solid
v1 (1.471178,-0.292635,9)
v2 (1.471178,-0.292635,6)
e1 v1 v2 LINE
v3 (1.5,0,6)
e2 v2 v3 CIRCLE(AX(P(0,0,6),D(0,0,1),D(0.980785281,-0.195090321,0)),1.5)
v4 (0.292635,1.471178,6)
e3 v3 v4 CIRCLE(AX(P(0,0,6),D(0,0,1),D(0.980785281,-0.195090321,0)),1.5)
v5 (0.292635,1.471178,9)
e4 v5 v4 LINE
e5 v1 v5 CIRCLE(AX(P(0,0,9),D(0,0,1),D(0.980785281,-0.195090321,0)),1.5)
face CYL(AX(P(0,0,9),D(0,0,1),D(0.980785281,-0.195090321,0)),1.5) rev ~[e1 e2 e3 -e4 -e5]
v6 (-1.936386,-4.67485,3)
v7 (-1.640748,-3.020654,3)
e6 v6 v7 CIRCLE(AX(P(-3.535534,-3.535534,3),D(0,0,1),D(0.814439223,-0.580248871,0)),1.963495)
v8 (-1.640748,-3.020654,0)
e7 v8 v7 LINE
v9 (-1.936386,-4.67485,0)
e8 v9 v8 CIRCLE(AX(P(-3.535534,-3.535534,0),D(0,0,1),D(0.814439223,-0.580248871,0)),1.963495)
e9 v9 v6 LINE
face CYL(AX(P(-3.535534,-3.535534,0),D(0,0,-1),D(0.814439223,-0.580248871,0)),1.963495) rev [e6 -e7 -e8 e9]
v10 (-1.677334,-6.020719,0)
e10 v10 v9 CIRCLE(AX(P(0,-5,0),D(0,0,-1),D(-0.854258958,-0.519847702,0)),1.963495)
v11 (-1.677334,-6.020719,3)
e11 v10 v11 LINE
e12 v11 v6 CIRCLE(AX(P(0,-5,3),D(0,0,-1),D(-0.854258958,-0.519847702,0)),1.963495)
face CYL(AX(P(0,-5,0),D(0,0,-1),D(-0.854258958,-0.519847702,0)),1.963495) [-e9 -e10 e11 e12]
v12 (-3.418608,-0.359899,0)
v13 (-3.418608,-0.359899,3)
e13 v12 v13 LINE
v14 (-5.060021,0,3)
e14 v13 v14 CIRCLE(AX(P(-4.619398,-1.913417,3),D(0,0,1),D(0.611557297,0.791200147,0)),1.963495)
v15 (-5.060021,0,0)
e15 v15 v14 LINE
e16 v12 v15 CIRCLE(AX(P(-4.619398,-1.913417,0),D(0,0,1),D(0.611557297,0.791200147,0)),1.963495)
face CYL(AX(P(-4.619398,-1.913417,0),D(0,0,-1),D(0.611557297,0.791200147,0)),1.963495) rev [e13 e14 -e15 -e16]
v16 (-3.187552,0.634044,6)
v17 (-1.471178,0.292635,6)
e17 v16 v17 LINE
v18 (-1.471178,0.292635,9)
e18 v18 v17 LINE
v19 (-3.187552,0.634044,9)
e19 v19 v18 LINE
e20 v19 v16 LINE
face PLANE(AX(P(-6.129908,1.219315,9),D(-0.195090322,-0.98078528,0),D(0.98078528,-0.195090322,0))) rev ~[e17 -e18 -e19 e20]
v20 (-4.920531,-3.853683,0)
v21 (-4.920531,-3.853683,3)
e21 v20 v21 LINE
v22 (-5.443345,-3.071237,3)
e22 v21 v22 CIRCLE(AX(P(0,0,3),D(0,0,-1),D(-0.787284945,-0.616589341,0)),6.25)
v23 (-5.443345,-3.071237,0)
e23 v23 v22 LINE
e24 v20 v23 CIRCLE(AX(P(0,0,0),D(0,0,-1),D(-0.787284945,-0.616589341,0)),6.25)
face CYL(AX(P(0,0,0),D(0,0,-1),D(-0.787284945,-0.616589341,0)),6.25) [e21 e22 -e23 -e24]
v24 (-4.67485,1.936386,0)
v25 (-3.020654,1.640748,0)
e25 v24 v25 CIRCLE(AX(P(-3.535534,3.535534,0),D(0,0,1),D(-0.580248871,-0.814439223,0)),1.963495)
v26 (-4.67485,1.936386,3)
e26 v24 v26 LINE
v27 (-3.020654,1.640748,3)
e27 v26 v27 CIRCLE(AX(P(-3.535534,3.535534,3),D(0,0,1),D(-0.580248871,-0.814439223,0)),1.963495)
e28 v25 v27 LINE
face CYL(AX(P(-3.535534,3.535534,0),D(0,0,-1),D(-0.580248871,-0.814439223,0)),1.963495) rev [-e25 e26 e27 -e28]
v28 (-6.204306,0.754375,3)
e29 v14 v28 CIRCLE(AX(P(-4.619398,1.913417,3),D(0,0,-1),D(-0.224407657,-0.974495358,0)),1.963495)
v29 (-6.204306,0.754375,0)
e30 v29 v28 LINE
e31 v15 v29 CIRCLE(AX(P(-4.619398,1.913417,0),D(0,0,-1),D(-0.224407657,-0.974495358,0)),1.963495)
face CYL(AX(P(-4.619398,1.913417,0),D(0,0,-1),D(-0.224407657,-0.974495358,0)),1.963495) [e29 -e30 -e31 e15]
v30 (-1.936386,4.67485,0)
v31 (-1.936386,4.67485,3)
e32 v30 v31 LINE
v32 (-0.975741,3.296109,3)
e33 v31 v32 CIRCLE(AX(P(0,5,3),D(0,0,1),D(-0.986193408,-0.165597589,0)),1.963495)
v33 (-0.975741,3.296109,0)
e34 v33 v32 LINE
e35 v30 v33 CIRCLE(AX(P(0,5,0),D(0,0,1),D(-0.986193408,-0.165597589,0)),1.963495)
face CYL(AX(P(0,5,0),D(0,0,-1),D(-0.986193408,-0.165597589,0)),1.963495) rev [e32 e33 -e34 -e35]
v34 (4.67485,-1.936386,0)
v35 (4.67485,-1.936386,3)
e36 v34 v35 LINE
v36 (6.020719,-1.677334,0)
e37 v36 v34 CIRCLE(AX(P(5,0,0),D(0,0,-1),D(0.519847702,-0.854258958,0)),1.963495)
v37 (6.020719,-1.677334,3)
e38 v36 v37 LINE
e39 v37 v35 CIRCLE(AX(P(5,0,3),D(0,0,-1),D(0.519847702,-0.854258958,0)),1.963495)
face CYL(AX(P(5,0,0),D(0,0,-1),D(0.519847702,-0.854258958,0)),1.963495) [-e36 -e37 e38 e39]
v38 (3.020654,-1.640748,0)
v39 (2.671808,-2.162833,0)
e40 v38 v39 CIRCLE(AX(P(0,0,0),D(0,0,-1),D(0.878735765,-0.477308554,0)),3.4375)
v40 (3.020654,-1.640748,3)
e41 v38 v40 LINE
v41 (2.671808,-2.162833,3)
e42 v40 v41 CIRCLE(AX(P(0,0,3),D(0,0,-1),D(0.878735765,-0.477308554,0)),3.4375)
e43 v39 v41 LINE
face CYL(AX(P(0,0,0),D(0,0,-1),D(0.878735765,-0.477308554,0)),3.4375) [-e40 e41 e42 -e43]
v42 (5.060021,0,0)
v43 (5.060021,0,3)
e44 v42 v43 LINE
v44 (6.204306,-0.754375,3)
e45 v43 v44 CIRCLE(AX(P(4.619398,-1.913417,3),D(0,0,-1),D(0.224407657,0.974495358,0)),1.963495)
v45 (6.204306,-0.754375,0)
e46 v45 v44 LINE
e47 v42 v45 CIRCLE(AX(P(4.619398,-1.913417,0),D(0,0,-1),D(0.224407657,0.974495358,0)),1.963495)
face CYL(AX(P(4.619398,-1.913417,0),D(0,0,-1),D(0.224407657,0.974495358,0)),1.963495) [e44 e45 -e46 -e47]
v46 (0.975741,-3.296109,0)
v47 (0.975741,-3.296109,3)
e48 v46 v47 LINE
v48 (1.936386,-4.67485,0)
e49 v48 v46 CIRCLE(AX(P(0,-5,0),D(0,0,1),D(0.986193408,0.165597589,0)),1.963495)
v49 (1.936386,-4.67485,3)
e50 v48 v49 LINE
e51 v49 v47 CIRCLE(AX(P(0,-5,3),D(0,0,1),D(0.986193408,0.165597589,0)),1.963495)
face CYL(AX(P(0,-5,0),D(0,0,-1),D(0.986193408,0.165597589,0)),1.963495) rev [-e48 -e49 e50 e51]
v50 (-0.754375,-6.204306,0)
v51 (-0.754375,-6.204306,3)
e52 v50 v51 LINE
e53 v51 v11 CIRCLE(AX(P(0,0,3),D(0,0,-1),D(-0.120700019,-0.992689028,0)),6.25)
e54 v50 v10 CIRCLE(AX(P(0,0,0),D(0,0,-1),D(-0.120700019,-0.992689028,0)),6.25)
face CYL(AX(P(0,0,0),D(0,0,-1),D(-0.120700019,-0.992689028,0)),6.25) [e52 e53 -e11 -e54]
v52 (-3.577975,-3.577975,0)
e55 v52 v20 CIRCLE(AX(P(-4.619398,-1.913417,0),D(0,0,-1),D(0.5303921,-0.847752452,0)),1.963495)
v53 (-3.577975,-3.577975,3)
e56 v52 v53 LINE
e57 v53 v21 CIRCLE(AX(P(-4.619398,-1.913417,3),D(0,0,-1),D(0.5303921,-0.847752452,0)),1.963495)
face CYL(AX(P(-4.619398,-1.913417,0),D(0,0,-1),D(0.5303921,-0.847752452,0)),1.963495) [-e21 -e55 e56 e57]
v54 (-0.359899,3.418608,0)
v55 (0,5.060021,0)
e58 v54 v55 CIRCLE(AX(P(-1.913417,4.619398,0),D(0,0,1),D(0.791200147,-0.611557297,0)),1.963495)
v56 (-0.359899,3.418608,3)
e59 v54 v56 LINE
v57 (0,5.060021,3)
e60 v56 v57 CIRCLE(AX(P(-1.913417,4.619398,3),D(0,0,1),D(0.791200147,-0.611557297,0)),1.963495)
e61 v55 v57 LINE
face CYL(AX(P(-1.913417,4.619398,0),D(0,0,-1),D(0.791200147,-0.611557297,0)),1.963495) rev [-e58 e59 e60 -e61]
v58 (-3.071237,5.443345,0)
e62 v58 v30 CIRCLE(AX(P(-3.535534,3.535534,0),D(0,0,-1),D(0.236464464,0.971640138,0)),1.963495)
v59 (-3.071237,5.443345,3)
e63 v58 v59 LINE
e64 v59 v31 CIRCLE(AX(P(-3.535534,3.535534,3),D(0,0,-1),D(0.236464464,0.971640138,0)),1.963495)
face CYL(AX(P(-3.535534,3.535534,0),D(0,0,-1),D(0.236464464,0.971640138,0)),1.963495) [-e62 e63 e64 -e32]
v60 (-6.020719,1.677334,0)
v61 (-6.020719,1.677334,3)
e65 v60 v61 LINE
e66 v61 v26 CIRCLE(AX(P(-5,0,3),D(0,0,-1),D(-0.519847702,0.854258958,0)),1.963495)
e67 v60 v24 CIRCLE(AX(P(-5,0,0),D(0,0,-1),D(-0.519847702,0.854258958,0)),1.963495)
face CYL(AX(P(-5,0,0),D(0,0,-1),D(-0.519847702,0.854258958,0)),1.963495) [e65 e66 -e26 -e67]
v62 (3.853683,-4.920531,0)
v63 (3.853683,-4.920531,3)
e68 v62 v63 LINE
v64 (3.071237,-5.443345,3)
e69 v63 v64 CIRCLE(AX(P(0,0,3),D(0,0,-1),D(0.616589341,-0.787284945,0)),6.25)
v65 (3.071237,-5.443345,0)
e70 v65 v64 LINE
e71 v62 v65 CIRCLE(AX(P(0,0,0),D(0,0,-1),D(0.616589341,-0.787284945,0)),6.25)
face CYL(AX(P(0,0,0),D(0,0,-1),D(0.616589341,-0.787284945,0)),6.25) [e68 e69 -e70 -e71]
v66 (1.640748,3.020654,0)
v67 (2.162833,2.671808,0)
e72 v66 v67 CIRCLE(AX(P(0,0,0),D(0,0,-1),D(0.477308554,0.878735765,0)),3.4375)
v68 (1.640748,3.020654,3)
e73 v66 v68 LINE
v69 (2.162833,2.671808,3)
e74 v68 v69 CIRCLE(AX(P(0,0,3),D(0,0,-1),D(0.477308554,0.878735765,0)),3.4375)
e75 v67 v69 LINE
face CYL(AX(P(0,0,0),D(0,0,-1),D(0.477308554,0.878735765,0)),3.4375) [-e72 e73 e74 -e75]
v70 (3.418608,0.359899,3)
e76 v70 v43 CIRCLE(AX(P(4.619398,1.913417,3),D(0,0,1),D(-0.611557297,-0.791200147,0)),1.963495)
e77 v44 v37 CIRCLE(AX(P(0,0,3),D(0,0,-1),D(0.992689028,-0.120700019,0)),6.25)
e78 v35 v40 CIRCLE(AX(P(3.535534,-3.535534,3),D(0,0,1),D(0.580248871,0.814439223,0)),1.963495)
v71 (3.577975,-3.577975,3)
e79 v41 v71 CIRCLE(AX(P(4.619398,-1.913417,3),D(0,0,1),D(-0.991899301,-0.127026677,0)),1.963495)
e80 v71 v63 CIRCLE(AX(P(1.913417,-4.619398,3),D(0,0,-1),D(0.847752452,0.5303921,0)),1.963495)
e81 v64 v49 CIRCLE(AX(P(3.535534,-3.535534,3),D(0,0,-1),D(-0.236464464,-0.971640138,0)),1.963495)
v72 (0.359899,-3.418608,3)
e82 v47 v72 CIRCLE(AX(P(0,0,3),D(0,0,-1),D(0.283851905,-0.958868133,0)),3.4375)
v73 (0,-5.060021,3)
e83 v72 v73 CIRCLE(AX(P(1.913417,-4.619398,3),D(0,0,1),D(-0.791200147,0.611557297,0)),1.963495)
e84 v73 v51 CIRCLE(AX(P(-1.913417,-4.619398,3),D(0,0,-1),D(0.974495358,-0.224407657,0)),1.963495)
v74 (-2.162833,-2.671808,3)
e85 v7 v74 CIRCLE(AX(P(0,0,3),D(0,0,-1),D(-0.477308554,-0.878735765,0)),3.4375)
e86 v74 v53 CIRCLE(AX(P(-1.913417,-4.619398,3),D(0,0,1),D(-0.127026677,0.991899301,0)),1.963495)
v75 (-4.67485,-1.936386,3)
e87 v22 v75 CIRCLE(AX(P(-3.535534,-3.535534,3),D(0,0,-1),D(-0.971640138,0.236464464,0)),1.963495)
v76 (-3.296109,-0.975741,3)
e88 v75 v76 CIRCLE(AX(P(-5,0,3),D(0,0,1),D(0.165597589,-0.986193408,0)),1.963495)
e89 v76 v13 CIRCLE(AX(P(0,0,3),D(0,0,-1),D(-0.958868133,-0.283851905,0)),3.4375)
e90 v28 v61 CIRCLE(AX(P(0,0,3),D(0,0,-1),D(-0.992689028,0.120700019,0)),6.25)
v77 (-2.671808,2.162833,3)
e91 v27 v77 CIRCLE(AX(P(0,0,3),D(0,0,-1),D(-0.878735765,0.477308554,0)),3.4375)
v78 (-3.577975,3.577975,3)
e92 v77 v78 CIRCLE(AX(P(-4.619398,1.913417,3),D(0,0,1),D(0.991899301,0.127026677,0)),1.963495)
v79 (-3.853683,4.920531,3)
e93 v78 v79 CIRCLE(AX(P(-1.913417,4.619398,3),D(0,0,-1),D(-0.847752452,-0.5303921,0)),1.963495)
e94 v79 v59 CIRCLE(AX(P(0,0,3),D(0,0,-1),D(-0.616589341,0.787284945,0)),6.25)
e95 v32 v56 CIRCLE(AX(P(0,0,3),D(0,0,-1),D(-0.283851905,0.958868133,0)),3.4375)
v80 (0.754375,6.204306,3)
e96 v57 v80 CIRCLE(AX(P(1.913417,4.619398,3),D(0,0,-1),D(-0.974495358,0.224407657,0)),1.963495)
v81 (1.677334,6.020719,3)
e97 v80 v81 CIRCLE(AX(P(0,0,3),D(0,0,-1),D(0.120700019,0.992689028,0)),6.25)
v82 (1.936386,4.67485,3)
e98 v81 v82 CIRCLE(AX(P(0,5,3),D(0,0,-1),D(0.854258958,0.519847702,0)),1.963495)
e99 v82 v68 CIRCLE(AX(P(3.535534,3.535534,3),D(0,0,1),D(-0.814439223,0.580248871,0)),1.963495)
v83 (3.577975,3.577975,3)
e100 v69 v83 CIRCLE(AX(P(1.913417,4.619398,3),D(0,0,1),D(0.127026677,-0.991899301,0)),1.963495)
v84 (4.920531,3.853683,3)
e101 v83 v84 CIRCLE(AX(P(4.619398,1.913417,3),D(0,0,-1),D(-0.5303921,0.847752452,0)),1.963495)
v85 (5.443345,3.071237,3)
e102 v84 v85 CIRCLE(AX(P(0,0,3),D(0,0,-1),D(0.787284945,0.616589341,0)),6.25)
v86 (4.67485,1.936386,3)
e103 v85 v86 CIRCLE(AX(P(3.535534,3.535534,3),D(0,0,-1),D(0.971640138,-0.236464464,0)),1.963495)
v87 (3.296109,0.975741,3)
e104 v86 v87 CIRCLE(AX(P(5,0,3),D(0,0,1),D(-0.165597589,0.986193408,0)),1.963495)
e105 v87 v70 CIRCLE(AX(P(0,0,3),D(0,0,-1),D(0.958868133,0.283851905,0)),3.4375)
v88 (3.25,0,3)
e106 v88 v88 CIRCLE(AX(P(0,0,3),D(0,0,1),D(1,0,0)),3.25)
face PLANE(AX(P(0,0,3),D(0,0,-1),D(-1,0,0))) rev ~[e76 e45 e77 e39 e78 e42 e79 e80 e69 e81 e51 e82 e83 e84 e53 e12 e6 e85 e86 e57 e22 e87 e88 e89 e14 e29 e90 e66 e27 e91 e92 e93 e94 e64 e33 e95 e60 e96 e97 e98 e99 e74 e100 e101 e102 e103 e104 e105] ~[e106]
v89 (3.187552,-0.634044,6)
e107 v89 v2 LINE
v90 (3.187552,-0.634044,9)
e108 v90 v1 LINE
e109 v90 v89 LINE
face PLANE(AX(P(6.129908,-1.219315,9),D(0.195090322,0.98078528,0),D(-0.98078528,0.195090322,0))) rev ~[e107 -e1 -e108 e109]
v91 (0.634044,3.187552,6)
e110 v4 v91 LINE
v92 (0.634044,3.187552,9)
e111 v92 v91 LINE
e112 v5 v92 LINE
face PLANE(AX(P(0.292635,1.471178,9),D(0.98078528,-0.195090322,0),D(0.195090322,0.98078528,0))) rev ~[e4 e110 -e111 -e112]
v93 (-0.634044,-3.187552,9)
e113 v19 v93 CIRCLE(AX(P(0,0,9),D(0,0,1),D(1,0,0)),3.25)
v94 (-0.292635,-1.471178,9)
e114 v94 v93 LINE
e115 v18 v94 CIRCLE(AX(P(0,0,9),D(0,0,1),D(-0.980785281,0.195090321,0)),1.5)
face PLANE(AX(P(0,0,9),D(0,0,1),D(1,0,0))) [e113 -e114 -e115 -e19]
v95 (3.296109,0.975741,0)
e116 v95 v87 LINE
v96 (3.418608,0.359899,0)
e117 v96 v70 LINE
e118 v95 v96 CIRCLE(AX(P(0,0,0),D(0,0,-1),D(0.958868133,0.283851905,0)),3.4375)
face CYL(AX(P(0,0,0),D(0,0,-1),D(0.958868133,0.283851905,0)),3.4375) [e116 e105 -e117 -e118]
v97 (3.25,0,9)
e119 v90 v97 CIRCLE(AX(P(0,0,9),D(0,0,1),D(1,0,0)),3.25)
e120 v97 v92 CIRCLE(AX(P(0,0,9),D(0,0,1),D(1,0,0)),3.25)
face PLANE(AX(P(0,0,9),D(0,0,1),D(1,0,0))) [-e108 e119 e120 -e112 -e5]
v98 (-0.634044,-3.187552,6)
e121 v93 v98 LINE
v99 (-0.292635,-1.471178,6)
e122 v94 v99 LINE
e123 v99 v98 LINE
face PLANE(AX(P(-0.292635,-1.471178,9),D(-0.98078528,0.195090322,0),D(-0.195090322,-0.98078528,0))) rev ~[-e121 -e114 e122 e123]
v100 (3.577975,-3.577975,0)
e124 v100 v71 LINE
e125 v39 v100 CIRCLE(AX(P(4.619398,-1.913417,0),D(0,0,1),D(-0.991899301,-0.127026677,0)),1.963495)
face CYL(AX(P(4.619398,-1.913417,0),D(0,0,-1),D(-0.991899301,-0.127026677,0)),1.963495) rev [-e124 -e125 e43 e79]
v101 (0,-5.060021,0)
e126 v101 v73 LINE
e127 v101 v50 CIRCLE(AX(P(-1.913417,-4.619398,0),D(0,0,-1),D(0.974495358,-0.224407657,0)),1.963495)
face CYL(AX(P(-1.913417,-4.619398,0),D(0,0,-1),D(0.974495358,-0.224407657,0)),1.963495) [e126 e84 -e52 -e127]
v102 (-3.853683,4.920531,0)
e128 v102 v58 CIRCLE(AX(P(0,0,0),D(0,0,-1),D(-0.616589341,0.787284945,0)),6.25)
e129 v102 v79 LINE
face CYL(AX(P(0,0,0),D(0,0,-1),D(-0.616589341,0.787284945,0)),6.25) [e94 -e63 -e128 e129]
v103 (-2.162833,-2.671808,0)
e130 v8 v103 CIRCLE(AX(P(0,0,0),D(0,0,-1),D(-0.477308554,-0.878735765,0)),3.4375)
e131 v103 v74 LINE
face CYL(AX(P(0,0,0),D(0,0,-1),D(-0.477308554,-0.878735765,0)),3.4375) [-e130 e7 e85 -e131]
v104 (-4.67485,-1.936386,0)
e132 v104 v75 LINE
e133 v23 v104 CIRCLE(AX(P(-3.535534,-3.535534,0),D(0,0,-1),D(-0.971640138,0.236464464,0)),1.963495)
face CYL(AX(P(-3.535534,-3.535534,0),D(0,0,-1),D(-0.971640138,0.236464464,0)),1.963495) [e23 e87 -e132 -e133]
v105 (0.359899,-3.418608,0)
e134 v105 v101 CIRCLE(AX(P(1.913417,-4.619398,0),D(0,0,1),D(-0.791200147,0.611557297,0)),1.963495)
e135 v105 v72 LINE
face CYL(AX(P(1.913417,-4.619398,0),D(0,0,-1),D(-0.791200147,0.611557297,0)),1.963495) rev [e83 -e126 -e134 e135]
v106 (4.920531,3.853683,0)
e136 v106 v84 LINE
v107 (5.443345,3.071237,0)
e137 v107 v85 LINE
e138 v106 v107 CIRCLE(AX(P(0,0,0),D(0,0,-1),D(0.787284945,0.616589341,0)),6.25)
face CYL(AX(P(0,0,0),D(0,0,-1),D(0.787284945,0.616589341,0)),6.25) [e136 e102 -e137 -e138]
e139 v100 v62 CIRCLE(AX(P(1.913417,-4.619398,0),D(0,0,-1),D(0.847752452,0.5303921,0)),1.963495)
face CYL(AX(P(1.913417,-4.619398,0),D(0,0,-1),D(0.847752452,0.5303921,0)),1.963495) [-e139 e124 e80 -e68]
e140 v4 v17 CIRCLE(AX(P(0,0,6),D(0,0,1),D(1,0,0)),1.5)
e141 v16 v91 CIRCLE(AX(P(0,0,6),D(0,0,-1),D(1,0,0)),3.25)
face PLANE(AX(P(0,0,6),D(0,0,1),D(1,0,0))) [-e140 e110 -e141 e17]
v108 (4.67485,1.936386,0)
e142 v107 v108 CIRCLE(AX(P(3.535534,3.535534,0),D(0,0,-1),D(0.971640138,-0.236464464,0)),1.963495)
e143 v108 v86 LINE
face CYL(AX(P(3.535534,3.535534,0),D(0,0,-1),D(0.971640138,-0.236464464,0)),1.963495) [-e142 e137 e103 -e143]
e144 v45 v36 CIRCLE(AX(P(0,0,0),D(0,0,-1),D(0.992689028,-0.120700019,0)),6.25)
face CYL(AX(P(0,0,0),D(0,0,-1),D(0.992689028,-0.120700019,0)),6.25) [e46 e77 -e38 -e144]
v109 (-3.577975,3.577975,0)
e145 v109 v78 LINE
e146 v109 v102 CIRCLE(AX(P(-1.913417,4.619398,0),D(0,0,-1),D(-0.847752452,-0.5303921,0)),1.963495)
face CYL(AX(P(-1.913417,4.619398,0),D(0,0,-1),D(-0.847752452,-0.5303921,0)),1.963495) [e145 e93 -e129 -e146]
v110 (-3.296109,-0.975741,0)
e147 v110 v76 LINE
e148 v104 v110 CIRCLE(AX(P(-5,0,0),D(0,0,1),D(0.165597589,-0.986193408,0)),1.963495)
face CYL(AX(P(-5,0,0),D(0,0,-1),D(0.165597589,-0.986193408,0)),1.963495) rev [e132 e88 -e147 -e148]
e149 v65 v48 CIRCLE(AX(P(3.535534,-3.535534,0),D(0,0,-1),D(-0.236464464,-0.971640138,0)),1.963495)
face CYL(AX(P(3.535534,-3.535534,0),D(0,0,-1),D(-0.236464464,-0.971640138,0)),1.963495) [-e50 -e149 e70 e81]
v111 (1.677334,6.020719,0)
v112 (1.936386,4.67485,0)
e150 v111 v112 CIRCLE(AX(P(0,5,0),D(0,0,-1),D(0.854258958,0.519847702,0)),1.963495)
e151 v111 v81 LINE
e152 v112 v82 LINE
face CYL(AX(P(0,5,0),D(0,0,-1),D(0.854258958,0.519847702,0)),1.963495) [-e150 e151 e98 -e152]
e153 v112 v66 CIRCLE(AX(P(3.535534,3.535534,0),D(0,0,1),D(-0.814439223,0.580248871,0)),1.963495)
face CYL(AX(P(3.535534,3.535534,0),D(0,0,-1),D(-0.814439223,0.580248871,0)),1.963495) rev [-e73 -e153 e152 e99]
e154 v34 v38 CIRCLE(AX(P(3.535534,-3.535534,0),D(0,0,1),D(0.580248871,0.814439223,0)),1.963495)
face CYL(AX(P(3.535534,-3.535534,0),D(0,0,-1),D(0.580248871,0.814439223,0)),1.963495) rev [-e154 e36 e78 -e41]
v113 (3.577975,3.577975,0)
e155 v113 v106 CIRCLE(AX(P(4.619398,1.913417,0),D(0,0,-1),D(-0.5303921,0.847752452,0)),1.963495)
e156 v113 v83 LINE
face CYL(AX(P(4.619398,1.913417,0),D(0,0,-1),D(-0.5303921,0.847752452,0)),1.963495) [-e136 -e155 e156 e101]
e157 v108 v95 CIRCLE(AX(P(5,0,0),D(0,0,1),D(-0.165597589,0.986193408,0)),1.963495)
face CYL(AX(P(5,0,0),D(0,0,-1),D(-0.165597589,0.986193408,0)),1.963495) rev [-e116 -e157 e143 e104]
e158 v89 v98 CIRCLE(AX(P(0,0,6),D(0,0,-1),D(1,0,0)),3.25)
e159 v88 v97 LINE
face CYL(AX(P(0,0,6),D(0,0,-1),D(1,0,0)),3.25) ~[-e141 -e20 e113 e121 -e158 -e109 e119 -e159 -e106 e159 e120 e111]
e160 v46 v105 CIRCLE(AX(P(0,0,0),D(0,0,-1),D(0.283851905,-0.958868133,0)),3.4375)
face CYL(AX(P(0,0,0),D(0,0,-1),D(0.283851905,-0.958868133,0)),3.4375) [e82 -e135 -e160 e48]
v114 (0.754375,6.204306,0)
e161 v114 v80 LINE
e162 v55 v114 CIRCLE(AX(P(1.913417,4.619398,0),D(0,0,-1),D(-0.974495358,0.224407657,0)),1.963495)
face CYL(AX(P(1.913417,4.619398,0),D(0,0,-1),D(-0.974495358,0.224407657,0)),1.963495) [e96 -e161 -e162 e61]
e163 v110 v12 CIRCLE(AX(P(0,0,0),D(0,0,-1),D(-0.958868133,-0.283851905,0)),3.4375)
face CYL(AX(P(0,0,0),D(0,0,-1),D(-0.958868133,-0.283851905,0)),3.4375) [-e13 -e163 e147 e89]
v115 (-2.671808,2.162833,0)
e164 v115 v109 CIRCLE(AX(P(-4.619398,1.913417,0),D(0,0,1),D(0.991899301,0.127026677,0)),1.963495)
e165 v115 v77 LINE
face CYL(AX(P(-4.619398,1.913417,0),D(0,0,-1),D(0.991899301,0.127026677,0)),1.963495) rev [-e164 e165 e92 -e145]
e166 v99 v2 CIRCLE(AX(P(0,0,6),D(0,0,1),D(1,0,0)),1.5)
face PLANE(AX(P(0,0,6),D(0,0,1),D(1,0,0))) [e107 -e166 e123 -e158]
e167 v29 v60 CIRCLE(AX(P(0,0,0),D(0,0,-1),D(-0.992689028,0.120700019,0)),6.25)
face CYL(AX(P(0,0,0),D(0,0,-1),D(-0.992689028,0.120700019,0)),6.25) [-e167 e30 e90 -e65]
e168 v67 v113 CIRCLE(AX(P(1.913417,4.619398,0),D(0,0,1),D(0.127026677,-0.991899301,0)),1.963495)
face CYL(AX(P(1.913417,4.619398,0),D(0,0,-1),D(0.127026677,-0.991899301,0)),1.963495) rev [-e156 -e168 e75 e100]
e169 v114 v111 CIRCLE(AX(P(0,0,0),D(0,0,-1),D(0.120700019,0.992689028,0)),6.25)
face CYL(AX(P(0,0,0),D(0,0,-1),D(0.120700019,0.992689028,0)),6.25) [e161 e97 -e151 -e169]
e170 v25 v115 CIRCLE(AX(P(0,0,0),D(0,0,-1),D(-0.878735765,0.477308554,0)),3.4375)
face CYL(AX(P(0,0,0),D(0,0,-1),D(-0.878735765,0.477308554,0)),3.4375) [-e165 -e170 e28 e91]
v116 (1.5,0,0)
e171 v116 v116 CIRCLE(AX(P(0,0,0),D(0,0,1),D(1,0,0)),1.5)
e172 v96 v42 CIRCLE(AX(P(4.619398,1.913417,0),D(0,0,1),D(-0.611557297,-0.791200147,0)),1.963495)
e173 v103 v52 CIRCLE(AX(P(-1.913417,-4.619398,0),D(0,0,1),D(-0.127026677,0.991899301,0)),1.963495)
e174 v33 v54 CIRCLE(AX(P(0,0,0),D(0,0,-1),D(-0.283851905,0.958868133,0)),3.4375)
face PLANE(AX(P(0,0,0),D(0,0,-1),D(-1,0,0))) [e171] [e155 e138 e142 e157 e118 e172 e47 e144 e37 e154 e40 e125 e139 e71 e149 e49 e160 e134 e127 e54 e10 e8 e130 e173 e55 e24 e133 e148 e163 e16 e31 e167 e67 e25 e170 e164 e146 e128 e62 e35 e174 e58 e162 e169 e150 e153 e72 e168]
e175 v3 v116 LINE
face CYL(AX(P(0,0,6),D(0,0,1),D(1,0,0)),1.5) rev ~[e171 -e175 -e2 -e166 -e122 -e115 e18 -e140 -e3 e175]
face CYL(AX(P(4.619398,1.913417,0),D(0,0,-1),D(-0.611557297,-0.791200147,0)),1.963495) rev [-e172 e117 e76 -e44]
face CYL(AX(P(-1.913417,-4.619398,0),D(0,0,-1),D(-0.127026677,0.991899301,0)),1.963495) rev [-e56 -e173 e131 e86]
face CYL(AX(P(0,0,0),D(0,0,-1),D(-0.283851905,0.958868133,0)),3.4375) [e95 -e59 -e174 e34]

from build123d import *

# Parameters (mm, degrees)
SALIENTE_EXTRUIR1_DEPTH = 3
CROQUIS2_R              = 3.25
SALIENTE_EXTRUIR2_DEPTH = 3
CROQUIS3_R              = 3.25
SALIENTE_EXTRUIR3_DEPTH = 3
CORTAR_EXTRUIR2_DEPTH   = 3
CROQUIS6_R              = 1.5
CORTAR_EXTRUIR3_DEPTH   = 10


with BuildPart() as part:
    # Croquis1 → Saliente-Extruir1 (new body)
    with BuildSketch(Plane.XY):
        with BuildLine():
            ThreePointArc((3.41860772, 0.359899305), (4.198868033, -0.004516375), (5.060021066, 0))
            ThreePointArc((5.060021066, 0), (5.700122231, -0.2741037), (6.204306422, -0.754375124))
            ThreePointArc((6.204306422, -0.754375124), (6.129908003, -1.219314513), (6.020718578, -1.67733354))
            ThreePointArc((6.020718578, -1.67733354), (5.371121207, -1.928103542), (4.674849897, -1.93638623))
            ThreePointArc((4.674849897, -1.93638623), (3.880976577, -1.602664645), (3.020654201, -1.640748138))
            ThreePointArc((3.020654201, -1.640748138), (2.858176792, -1.909772676), (2.67180794, -2.162833462))
            ThreePointArc((2.67180794, -2.162833462), (2.9658545, -2.972241619), (3.577975209, -3.577975209))
            ThreePointArc((3.577975209, -3.577975209), (3.836774498, -4.224415668), (3.853683377, -4.920530909))
            ThreePointArc((3.853683377, -4.920530909), (3.472313956, -5.196685077), (3.071237014, -5.443344854))
            ThreePointArc((3.071237014, -5.443344854), (2.434581138, -5.161331317), (1.93638623, -4.674849897))
            ThreePointArc((1.93638623, -4.674849897), (1.611009817, -3.877519894), (0.975740935, -3.296109203))
            ThreePointArc((0.975740935, -3.296109203), (0.670622982, -3.371449401), (0.359899305, -3.41860772))
            ThreePointArc((0.359899305, -3.41860772), (-0.004516375, -4.198868033), (0, -5.060021066))
            ThreePointArc((0, -5.060021066), (-0.2741037, -5.700122231), (-0.754375124, -6.204306422))
            ThreePointArc((-0.754375124, -6.204306422), (-1.219314513, -6.129908003), (-1.67733354, -6.020718578))
            ThreePointArc((-1.67733354, -6.020718578), (-1.928103542, -5.371121207), (-1.93638623, -4.674849897))
            ThreePointArc((-1.93638623, -4.674849897), (-1.602664645, -3.880976577), (-1.640748138, -3.020654201))
            ThreePointArc((-1.640748138, -3.020654201), (-1.909772676, -2.858176792), (-2.162833462, -2.67180794))
            ThreePointArc((-2.162833462, -2.67180794), (-2.972241619, -2.9658545), (-3.577975209, -3.577975209))
            ThreePointArc((-3.577975209, -3.577975209), (-4.224415668, -3.836774498), (-4.920530909, -3.853683377))
            ThreePointArc((-4.920530909, -3.853683377), (-5.196685077, -3.472313956), (-5.443344854, -3.071237014))
            ThreePointArc((-5.443344854, -3.071237014), (-5.161331317, -2.434581138), (-4.674849897, -1.93638623))
            ThreePointArc((-4.674849897, -1.93638623), (-3.877519894, -1.611009817), (-3.296109203, -0.975740935))
            ThreePointArc((-3.296109203, -0.975740935), (-3.371449401, -0.670622982), (-3.41860772, -0.359899305))
            ThreePointArc((-3.41860772, -0.359899305), (-4.198868033, 0.004516375), (-5.060021066, 0))
            ThreePointArc((-5.060021066, 0), (-5.700122231, 0.2741037), (-6.204306422, 0.754375124))
            ThreePointArc((-6.204306422, 0.754375124), (-6.129908003, 1.219314513), (-6.020718578, 1.67733354))
            ThreePointArc((-6.020718578, 1.67733354), (-5.371121207, 1.928103542), (-4.674849897, 1.93638623))
            ThreePointArc((-4.674849897, 1.93638623), (-3.880976577, 1.602664645), (-3.020654201, 1.640748138))
            ThreePointArc((-3.020654201, 1.640748138), (-2.858176792, 1.909772676), (-2.67180794, 2.162833462))
            ThreePointArc((-2.67180794, 2.162833462), (-2.9658545, 2.972241619), (-3.577975209, 3.577975209))
            ThreePointArc((-3.577975209, 3.577975209), (-3.836774498, 4.224415668), (-3.853683377, 4.920530909))
            ThreePointArc((-3.853683377, 4.920530909), (-3.472313956, 5.196685077), (-3.071237014, 5.443344854))
            ThreePointArc((-3.071237014, 5.443344854), (-2.434581138, 5.161331317), (-1.93638623, 4.674849897))
            ThreePointArc((-1.93638623, 4.674849897), (-1.611009817, 3.877519894), (-0.975740935, 3.296109203))
            ThreePointArc((-0.975740935, 3.296109203), (-0.670622982, 3.371449401), (-0.359899305, 3.41860772))
            ThreePointArc((-0.359899305, 3.41860772), (0.004516375, 4.198868033), (0, 5.060021066))
            ThreePointArc((0, 5.060021066), (0.2741037, 5.700122231), (0.754375124, 6.204306422))
            ThreePointArc((0.754375124, 6.204306422), (1.219314513, 6.129908003), (1.67733354, 6.020718578))
            ThreePointArc((1.67733354, 6.020718578), (1.928103542, 5.371121207), (1.93638623, 4.674849897))
            ThreePointArc((1.93638623, 4.674849897), (1.602664645, 3.880976577), (1.640748138, 3.020654201))
            ThreePointArc((1.640748138, 3.020654201), (1.909772676, 2.858176792), (2.162833462, 2.67180794))
            ThreePointArc((2.162833462, 2.67180794), (2.972241619, 2.9658545), (3.577975209, 3.577975209))
            ThreePointArc((3.577975209, 3.577975209), (4.224415668, 3.836774498), (4.920530909, 3.853683377))
            ThreePointArc((4.920530909, 3.853683377), (5.196685077, 3.472313956), (5.443344854, 3.071237014))
            ThreePointArc((5.443344854, 3.071237014), (5.161331317, 2.434581138), (4.674849897, 1.93638623))
            ThreePointArc((4.674849897, 1.93638623), (3.877519894, 1.611009817), (3.296109203, 0.975740935))
            ThreePointArc((3.296109203, 0.975740935), (3.371449401, 0.670622982), (3.41860772, 0.359899305))
        make_face()
    extrude(amount=SALIENTE_EXTRUIR1_DEPTH)

    # Croquis2 → Saliente-Extruir2 (add)
    with BuildSketch(Plane.XY.offset(3)):
        Circle(CROQUIS2_R)
    extrude(amount=SALIENTE_EXTRUIR2_DEPTH)

    # Croquis3 → Saliente-Extruir3 (add)
    with BuildSketch(Plane.XY.offset(6)):
        Circle(CROQUIS3_R)
    extrude(amount=SALIENTE_EXTRUIR3_DEPTH)

    # Croquis4 → Cortar-Extruir2 (cut)
    with BuildSketch(Plane.XY.offset(9)):
        with BuildLine():
            Line((0.292635483, 1.471177921), (1.219314513, 6.129908003))
            Line((1.219314513, 6.129908003), (-6.129908003, 1.219314513))
            Line((-6.129908003, 1.219314513), (-1.471177921, 0.292635483))
            ThreePointArc((-1.471177921, 0.292635483), (-1.247204418, -0.83335535), (-0.292635483, -1.471177921))
            Line((-0.292635483, -1.471177921), (-1.219314513, -6.129908003))
            Line((-1.219314513, -6.129908003), (6.129908003, -1.219314513))
            Line((6.129908003, -1.219314513), (1.471177921, -0.292635483))
            ThreePointArc((1.471177921, -0.292635483), (1.247204418, 0.83335535), (0.292635483, 1.471177921))
        make_face()
    extrude(amount=-CORTAR_EXTRUIR2_DEPTH, mode=Mode.SUBTRACT)

    # Croquis6 → Cortar-Extruir3 (cut)
    with BuildSketch(Plane.XY.offset(6)):
        Circle(CROQUIS6_R)
    extrude(amount=-CORTAR_EXTRUIR3_DEPTH, mode=Mode.SUBTRACT)


solid = part.part
